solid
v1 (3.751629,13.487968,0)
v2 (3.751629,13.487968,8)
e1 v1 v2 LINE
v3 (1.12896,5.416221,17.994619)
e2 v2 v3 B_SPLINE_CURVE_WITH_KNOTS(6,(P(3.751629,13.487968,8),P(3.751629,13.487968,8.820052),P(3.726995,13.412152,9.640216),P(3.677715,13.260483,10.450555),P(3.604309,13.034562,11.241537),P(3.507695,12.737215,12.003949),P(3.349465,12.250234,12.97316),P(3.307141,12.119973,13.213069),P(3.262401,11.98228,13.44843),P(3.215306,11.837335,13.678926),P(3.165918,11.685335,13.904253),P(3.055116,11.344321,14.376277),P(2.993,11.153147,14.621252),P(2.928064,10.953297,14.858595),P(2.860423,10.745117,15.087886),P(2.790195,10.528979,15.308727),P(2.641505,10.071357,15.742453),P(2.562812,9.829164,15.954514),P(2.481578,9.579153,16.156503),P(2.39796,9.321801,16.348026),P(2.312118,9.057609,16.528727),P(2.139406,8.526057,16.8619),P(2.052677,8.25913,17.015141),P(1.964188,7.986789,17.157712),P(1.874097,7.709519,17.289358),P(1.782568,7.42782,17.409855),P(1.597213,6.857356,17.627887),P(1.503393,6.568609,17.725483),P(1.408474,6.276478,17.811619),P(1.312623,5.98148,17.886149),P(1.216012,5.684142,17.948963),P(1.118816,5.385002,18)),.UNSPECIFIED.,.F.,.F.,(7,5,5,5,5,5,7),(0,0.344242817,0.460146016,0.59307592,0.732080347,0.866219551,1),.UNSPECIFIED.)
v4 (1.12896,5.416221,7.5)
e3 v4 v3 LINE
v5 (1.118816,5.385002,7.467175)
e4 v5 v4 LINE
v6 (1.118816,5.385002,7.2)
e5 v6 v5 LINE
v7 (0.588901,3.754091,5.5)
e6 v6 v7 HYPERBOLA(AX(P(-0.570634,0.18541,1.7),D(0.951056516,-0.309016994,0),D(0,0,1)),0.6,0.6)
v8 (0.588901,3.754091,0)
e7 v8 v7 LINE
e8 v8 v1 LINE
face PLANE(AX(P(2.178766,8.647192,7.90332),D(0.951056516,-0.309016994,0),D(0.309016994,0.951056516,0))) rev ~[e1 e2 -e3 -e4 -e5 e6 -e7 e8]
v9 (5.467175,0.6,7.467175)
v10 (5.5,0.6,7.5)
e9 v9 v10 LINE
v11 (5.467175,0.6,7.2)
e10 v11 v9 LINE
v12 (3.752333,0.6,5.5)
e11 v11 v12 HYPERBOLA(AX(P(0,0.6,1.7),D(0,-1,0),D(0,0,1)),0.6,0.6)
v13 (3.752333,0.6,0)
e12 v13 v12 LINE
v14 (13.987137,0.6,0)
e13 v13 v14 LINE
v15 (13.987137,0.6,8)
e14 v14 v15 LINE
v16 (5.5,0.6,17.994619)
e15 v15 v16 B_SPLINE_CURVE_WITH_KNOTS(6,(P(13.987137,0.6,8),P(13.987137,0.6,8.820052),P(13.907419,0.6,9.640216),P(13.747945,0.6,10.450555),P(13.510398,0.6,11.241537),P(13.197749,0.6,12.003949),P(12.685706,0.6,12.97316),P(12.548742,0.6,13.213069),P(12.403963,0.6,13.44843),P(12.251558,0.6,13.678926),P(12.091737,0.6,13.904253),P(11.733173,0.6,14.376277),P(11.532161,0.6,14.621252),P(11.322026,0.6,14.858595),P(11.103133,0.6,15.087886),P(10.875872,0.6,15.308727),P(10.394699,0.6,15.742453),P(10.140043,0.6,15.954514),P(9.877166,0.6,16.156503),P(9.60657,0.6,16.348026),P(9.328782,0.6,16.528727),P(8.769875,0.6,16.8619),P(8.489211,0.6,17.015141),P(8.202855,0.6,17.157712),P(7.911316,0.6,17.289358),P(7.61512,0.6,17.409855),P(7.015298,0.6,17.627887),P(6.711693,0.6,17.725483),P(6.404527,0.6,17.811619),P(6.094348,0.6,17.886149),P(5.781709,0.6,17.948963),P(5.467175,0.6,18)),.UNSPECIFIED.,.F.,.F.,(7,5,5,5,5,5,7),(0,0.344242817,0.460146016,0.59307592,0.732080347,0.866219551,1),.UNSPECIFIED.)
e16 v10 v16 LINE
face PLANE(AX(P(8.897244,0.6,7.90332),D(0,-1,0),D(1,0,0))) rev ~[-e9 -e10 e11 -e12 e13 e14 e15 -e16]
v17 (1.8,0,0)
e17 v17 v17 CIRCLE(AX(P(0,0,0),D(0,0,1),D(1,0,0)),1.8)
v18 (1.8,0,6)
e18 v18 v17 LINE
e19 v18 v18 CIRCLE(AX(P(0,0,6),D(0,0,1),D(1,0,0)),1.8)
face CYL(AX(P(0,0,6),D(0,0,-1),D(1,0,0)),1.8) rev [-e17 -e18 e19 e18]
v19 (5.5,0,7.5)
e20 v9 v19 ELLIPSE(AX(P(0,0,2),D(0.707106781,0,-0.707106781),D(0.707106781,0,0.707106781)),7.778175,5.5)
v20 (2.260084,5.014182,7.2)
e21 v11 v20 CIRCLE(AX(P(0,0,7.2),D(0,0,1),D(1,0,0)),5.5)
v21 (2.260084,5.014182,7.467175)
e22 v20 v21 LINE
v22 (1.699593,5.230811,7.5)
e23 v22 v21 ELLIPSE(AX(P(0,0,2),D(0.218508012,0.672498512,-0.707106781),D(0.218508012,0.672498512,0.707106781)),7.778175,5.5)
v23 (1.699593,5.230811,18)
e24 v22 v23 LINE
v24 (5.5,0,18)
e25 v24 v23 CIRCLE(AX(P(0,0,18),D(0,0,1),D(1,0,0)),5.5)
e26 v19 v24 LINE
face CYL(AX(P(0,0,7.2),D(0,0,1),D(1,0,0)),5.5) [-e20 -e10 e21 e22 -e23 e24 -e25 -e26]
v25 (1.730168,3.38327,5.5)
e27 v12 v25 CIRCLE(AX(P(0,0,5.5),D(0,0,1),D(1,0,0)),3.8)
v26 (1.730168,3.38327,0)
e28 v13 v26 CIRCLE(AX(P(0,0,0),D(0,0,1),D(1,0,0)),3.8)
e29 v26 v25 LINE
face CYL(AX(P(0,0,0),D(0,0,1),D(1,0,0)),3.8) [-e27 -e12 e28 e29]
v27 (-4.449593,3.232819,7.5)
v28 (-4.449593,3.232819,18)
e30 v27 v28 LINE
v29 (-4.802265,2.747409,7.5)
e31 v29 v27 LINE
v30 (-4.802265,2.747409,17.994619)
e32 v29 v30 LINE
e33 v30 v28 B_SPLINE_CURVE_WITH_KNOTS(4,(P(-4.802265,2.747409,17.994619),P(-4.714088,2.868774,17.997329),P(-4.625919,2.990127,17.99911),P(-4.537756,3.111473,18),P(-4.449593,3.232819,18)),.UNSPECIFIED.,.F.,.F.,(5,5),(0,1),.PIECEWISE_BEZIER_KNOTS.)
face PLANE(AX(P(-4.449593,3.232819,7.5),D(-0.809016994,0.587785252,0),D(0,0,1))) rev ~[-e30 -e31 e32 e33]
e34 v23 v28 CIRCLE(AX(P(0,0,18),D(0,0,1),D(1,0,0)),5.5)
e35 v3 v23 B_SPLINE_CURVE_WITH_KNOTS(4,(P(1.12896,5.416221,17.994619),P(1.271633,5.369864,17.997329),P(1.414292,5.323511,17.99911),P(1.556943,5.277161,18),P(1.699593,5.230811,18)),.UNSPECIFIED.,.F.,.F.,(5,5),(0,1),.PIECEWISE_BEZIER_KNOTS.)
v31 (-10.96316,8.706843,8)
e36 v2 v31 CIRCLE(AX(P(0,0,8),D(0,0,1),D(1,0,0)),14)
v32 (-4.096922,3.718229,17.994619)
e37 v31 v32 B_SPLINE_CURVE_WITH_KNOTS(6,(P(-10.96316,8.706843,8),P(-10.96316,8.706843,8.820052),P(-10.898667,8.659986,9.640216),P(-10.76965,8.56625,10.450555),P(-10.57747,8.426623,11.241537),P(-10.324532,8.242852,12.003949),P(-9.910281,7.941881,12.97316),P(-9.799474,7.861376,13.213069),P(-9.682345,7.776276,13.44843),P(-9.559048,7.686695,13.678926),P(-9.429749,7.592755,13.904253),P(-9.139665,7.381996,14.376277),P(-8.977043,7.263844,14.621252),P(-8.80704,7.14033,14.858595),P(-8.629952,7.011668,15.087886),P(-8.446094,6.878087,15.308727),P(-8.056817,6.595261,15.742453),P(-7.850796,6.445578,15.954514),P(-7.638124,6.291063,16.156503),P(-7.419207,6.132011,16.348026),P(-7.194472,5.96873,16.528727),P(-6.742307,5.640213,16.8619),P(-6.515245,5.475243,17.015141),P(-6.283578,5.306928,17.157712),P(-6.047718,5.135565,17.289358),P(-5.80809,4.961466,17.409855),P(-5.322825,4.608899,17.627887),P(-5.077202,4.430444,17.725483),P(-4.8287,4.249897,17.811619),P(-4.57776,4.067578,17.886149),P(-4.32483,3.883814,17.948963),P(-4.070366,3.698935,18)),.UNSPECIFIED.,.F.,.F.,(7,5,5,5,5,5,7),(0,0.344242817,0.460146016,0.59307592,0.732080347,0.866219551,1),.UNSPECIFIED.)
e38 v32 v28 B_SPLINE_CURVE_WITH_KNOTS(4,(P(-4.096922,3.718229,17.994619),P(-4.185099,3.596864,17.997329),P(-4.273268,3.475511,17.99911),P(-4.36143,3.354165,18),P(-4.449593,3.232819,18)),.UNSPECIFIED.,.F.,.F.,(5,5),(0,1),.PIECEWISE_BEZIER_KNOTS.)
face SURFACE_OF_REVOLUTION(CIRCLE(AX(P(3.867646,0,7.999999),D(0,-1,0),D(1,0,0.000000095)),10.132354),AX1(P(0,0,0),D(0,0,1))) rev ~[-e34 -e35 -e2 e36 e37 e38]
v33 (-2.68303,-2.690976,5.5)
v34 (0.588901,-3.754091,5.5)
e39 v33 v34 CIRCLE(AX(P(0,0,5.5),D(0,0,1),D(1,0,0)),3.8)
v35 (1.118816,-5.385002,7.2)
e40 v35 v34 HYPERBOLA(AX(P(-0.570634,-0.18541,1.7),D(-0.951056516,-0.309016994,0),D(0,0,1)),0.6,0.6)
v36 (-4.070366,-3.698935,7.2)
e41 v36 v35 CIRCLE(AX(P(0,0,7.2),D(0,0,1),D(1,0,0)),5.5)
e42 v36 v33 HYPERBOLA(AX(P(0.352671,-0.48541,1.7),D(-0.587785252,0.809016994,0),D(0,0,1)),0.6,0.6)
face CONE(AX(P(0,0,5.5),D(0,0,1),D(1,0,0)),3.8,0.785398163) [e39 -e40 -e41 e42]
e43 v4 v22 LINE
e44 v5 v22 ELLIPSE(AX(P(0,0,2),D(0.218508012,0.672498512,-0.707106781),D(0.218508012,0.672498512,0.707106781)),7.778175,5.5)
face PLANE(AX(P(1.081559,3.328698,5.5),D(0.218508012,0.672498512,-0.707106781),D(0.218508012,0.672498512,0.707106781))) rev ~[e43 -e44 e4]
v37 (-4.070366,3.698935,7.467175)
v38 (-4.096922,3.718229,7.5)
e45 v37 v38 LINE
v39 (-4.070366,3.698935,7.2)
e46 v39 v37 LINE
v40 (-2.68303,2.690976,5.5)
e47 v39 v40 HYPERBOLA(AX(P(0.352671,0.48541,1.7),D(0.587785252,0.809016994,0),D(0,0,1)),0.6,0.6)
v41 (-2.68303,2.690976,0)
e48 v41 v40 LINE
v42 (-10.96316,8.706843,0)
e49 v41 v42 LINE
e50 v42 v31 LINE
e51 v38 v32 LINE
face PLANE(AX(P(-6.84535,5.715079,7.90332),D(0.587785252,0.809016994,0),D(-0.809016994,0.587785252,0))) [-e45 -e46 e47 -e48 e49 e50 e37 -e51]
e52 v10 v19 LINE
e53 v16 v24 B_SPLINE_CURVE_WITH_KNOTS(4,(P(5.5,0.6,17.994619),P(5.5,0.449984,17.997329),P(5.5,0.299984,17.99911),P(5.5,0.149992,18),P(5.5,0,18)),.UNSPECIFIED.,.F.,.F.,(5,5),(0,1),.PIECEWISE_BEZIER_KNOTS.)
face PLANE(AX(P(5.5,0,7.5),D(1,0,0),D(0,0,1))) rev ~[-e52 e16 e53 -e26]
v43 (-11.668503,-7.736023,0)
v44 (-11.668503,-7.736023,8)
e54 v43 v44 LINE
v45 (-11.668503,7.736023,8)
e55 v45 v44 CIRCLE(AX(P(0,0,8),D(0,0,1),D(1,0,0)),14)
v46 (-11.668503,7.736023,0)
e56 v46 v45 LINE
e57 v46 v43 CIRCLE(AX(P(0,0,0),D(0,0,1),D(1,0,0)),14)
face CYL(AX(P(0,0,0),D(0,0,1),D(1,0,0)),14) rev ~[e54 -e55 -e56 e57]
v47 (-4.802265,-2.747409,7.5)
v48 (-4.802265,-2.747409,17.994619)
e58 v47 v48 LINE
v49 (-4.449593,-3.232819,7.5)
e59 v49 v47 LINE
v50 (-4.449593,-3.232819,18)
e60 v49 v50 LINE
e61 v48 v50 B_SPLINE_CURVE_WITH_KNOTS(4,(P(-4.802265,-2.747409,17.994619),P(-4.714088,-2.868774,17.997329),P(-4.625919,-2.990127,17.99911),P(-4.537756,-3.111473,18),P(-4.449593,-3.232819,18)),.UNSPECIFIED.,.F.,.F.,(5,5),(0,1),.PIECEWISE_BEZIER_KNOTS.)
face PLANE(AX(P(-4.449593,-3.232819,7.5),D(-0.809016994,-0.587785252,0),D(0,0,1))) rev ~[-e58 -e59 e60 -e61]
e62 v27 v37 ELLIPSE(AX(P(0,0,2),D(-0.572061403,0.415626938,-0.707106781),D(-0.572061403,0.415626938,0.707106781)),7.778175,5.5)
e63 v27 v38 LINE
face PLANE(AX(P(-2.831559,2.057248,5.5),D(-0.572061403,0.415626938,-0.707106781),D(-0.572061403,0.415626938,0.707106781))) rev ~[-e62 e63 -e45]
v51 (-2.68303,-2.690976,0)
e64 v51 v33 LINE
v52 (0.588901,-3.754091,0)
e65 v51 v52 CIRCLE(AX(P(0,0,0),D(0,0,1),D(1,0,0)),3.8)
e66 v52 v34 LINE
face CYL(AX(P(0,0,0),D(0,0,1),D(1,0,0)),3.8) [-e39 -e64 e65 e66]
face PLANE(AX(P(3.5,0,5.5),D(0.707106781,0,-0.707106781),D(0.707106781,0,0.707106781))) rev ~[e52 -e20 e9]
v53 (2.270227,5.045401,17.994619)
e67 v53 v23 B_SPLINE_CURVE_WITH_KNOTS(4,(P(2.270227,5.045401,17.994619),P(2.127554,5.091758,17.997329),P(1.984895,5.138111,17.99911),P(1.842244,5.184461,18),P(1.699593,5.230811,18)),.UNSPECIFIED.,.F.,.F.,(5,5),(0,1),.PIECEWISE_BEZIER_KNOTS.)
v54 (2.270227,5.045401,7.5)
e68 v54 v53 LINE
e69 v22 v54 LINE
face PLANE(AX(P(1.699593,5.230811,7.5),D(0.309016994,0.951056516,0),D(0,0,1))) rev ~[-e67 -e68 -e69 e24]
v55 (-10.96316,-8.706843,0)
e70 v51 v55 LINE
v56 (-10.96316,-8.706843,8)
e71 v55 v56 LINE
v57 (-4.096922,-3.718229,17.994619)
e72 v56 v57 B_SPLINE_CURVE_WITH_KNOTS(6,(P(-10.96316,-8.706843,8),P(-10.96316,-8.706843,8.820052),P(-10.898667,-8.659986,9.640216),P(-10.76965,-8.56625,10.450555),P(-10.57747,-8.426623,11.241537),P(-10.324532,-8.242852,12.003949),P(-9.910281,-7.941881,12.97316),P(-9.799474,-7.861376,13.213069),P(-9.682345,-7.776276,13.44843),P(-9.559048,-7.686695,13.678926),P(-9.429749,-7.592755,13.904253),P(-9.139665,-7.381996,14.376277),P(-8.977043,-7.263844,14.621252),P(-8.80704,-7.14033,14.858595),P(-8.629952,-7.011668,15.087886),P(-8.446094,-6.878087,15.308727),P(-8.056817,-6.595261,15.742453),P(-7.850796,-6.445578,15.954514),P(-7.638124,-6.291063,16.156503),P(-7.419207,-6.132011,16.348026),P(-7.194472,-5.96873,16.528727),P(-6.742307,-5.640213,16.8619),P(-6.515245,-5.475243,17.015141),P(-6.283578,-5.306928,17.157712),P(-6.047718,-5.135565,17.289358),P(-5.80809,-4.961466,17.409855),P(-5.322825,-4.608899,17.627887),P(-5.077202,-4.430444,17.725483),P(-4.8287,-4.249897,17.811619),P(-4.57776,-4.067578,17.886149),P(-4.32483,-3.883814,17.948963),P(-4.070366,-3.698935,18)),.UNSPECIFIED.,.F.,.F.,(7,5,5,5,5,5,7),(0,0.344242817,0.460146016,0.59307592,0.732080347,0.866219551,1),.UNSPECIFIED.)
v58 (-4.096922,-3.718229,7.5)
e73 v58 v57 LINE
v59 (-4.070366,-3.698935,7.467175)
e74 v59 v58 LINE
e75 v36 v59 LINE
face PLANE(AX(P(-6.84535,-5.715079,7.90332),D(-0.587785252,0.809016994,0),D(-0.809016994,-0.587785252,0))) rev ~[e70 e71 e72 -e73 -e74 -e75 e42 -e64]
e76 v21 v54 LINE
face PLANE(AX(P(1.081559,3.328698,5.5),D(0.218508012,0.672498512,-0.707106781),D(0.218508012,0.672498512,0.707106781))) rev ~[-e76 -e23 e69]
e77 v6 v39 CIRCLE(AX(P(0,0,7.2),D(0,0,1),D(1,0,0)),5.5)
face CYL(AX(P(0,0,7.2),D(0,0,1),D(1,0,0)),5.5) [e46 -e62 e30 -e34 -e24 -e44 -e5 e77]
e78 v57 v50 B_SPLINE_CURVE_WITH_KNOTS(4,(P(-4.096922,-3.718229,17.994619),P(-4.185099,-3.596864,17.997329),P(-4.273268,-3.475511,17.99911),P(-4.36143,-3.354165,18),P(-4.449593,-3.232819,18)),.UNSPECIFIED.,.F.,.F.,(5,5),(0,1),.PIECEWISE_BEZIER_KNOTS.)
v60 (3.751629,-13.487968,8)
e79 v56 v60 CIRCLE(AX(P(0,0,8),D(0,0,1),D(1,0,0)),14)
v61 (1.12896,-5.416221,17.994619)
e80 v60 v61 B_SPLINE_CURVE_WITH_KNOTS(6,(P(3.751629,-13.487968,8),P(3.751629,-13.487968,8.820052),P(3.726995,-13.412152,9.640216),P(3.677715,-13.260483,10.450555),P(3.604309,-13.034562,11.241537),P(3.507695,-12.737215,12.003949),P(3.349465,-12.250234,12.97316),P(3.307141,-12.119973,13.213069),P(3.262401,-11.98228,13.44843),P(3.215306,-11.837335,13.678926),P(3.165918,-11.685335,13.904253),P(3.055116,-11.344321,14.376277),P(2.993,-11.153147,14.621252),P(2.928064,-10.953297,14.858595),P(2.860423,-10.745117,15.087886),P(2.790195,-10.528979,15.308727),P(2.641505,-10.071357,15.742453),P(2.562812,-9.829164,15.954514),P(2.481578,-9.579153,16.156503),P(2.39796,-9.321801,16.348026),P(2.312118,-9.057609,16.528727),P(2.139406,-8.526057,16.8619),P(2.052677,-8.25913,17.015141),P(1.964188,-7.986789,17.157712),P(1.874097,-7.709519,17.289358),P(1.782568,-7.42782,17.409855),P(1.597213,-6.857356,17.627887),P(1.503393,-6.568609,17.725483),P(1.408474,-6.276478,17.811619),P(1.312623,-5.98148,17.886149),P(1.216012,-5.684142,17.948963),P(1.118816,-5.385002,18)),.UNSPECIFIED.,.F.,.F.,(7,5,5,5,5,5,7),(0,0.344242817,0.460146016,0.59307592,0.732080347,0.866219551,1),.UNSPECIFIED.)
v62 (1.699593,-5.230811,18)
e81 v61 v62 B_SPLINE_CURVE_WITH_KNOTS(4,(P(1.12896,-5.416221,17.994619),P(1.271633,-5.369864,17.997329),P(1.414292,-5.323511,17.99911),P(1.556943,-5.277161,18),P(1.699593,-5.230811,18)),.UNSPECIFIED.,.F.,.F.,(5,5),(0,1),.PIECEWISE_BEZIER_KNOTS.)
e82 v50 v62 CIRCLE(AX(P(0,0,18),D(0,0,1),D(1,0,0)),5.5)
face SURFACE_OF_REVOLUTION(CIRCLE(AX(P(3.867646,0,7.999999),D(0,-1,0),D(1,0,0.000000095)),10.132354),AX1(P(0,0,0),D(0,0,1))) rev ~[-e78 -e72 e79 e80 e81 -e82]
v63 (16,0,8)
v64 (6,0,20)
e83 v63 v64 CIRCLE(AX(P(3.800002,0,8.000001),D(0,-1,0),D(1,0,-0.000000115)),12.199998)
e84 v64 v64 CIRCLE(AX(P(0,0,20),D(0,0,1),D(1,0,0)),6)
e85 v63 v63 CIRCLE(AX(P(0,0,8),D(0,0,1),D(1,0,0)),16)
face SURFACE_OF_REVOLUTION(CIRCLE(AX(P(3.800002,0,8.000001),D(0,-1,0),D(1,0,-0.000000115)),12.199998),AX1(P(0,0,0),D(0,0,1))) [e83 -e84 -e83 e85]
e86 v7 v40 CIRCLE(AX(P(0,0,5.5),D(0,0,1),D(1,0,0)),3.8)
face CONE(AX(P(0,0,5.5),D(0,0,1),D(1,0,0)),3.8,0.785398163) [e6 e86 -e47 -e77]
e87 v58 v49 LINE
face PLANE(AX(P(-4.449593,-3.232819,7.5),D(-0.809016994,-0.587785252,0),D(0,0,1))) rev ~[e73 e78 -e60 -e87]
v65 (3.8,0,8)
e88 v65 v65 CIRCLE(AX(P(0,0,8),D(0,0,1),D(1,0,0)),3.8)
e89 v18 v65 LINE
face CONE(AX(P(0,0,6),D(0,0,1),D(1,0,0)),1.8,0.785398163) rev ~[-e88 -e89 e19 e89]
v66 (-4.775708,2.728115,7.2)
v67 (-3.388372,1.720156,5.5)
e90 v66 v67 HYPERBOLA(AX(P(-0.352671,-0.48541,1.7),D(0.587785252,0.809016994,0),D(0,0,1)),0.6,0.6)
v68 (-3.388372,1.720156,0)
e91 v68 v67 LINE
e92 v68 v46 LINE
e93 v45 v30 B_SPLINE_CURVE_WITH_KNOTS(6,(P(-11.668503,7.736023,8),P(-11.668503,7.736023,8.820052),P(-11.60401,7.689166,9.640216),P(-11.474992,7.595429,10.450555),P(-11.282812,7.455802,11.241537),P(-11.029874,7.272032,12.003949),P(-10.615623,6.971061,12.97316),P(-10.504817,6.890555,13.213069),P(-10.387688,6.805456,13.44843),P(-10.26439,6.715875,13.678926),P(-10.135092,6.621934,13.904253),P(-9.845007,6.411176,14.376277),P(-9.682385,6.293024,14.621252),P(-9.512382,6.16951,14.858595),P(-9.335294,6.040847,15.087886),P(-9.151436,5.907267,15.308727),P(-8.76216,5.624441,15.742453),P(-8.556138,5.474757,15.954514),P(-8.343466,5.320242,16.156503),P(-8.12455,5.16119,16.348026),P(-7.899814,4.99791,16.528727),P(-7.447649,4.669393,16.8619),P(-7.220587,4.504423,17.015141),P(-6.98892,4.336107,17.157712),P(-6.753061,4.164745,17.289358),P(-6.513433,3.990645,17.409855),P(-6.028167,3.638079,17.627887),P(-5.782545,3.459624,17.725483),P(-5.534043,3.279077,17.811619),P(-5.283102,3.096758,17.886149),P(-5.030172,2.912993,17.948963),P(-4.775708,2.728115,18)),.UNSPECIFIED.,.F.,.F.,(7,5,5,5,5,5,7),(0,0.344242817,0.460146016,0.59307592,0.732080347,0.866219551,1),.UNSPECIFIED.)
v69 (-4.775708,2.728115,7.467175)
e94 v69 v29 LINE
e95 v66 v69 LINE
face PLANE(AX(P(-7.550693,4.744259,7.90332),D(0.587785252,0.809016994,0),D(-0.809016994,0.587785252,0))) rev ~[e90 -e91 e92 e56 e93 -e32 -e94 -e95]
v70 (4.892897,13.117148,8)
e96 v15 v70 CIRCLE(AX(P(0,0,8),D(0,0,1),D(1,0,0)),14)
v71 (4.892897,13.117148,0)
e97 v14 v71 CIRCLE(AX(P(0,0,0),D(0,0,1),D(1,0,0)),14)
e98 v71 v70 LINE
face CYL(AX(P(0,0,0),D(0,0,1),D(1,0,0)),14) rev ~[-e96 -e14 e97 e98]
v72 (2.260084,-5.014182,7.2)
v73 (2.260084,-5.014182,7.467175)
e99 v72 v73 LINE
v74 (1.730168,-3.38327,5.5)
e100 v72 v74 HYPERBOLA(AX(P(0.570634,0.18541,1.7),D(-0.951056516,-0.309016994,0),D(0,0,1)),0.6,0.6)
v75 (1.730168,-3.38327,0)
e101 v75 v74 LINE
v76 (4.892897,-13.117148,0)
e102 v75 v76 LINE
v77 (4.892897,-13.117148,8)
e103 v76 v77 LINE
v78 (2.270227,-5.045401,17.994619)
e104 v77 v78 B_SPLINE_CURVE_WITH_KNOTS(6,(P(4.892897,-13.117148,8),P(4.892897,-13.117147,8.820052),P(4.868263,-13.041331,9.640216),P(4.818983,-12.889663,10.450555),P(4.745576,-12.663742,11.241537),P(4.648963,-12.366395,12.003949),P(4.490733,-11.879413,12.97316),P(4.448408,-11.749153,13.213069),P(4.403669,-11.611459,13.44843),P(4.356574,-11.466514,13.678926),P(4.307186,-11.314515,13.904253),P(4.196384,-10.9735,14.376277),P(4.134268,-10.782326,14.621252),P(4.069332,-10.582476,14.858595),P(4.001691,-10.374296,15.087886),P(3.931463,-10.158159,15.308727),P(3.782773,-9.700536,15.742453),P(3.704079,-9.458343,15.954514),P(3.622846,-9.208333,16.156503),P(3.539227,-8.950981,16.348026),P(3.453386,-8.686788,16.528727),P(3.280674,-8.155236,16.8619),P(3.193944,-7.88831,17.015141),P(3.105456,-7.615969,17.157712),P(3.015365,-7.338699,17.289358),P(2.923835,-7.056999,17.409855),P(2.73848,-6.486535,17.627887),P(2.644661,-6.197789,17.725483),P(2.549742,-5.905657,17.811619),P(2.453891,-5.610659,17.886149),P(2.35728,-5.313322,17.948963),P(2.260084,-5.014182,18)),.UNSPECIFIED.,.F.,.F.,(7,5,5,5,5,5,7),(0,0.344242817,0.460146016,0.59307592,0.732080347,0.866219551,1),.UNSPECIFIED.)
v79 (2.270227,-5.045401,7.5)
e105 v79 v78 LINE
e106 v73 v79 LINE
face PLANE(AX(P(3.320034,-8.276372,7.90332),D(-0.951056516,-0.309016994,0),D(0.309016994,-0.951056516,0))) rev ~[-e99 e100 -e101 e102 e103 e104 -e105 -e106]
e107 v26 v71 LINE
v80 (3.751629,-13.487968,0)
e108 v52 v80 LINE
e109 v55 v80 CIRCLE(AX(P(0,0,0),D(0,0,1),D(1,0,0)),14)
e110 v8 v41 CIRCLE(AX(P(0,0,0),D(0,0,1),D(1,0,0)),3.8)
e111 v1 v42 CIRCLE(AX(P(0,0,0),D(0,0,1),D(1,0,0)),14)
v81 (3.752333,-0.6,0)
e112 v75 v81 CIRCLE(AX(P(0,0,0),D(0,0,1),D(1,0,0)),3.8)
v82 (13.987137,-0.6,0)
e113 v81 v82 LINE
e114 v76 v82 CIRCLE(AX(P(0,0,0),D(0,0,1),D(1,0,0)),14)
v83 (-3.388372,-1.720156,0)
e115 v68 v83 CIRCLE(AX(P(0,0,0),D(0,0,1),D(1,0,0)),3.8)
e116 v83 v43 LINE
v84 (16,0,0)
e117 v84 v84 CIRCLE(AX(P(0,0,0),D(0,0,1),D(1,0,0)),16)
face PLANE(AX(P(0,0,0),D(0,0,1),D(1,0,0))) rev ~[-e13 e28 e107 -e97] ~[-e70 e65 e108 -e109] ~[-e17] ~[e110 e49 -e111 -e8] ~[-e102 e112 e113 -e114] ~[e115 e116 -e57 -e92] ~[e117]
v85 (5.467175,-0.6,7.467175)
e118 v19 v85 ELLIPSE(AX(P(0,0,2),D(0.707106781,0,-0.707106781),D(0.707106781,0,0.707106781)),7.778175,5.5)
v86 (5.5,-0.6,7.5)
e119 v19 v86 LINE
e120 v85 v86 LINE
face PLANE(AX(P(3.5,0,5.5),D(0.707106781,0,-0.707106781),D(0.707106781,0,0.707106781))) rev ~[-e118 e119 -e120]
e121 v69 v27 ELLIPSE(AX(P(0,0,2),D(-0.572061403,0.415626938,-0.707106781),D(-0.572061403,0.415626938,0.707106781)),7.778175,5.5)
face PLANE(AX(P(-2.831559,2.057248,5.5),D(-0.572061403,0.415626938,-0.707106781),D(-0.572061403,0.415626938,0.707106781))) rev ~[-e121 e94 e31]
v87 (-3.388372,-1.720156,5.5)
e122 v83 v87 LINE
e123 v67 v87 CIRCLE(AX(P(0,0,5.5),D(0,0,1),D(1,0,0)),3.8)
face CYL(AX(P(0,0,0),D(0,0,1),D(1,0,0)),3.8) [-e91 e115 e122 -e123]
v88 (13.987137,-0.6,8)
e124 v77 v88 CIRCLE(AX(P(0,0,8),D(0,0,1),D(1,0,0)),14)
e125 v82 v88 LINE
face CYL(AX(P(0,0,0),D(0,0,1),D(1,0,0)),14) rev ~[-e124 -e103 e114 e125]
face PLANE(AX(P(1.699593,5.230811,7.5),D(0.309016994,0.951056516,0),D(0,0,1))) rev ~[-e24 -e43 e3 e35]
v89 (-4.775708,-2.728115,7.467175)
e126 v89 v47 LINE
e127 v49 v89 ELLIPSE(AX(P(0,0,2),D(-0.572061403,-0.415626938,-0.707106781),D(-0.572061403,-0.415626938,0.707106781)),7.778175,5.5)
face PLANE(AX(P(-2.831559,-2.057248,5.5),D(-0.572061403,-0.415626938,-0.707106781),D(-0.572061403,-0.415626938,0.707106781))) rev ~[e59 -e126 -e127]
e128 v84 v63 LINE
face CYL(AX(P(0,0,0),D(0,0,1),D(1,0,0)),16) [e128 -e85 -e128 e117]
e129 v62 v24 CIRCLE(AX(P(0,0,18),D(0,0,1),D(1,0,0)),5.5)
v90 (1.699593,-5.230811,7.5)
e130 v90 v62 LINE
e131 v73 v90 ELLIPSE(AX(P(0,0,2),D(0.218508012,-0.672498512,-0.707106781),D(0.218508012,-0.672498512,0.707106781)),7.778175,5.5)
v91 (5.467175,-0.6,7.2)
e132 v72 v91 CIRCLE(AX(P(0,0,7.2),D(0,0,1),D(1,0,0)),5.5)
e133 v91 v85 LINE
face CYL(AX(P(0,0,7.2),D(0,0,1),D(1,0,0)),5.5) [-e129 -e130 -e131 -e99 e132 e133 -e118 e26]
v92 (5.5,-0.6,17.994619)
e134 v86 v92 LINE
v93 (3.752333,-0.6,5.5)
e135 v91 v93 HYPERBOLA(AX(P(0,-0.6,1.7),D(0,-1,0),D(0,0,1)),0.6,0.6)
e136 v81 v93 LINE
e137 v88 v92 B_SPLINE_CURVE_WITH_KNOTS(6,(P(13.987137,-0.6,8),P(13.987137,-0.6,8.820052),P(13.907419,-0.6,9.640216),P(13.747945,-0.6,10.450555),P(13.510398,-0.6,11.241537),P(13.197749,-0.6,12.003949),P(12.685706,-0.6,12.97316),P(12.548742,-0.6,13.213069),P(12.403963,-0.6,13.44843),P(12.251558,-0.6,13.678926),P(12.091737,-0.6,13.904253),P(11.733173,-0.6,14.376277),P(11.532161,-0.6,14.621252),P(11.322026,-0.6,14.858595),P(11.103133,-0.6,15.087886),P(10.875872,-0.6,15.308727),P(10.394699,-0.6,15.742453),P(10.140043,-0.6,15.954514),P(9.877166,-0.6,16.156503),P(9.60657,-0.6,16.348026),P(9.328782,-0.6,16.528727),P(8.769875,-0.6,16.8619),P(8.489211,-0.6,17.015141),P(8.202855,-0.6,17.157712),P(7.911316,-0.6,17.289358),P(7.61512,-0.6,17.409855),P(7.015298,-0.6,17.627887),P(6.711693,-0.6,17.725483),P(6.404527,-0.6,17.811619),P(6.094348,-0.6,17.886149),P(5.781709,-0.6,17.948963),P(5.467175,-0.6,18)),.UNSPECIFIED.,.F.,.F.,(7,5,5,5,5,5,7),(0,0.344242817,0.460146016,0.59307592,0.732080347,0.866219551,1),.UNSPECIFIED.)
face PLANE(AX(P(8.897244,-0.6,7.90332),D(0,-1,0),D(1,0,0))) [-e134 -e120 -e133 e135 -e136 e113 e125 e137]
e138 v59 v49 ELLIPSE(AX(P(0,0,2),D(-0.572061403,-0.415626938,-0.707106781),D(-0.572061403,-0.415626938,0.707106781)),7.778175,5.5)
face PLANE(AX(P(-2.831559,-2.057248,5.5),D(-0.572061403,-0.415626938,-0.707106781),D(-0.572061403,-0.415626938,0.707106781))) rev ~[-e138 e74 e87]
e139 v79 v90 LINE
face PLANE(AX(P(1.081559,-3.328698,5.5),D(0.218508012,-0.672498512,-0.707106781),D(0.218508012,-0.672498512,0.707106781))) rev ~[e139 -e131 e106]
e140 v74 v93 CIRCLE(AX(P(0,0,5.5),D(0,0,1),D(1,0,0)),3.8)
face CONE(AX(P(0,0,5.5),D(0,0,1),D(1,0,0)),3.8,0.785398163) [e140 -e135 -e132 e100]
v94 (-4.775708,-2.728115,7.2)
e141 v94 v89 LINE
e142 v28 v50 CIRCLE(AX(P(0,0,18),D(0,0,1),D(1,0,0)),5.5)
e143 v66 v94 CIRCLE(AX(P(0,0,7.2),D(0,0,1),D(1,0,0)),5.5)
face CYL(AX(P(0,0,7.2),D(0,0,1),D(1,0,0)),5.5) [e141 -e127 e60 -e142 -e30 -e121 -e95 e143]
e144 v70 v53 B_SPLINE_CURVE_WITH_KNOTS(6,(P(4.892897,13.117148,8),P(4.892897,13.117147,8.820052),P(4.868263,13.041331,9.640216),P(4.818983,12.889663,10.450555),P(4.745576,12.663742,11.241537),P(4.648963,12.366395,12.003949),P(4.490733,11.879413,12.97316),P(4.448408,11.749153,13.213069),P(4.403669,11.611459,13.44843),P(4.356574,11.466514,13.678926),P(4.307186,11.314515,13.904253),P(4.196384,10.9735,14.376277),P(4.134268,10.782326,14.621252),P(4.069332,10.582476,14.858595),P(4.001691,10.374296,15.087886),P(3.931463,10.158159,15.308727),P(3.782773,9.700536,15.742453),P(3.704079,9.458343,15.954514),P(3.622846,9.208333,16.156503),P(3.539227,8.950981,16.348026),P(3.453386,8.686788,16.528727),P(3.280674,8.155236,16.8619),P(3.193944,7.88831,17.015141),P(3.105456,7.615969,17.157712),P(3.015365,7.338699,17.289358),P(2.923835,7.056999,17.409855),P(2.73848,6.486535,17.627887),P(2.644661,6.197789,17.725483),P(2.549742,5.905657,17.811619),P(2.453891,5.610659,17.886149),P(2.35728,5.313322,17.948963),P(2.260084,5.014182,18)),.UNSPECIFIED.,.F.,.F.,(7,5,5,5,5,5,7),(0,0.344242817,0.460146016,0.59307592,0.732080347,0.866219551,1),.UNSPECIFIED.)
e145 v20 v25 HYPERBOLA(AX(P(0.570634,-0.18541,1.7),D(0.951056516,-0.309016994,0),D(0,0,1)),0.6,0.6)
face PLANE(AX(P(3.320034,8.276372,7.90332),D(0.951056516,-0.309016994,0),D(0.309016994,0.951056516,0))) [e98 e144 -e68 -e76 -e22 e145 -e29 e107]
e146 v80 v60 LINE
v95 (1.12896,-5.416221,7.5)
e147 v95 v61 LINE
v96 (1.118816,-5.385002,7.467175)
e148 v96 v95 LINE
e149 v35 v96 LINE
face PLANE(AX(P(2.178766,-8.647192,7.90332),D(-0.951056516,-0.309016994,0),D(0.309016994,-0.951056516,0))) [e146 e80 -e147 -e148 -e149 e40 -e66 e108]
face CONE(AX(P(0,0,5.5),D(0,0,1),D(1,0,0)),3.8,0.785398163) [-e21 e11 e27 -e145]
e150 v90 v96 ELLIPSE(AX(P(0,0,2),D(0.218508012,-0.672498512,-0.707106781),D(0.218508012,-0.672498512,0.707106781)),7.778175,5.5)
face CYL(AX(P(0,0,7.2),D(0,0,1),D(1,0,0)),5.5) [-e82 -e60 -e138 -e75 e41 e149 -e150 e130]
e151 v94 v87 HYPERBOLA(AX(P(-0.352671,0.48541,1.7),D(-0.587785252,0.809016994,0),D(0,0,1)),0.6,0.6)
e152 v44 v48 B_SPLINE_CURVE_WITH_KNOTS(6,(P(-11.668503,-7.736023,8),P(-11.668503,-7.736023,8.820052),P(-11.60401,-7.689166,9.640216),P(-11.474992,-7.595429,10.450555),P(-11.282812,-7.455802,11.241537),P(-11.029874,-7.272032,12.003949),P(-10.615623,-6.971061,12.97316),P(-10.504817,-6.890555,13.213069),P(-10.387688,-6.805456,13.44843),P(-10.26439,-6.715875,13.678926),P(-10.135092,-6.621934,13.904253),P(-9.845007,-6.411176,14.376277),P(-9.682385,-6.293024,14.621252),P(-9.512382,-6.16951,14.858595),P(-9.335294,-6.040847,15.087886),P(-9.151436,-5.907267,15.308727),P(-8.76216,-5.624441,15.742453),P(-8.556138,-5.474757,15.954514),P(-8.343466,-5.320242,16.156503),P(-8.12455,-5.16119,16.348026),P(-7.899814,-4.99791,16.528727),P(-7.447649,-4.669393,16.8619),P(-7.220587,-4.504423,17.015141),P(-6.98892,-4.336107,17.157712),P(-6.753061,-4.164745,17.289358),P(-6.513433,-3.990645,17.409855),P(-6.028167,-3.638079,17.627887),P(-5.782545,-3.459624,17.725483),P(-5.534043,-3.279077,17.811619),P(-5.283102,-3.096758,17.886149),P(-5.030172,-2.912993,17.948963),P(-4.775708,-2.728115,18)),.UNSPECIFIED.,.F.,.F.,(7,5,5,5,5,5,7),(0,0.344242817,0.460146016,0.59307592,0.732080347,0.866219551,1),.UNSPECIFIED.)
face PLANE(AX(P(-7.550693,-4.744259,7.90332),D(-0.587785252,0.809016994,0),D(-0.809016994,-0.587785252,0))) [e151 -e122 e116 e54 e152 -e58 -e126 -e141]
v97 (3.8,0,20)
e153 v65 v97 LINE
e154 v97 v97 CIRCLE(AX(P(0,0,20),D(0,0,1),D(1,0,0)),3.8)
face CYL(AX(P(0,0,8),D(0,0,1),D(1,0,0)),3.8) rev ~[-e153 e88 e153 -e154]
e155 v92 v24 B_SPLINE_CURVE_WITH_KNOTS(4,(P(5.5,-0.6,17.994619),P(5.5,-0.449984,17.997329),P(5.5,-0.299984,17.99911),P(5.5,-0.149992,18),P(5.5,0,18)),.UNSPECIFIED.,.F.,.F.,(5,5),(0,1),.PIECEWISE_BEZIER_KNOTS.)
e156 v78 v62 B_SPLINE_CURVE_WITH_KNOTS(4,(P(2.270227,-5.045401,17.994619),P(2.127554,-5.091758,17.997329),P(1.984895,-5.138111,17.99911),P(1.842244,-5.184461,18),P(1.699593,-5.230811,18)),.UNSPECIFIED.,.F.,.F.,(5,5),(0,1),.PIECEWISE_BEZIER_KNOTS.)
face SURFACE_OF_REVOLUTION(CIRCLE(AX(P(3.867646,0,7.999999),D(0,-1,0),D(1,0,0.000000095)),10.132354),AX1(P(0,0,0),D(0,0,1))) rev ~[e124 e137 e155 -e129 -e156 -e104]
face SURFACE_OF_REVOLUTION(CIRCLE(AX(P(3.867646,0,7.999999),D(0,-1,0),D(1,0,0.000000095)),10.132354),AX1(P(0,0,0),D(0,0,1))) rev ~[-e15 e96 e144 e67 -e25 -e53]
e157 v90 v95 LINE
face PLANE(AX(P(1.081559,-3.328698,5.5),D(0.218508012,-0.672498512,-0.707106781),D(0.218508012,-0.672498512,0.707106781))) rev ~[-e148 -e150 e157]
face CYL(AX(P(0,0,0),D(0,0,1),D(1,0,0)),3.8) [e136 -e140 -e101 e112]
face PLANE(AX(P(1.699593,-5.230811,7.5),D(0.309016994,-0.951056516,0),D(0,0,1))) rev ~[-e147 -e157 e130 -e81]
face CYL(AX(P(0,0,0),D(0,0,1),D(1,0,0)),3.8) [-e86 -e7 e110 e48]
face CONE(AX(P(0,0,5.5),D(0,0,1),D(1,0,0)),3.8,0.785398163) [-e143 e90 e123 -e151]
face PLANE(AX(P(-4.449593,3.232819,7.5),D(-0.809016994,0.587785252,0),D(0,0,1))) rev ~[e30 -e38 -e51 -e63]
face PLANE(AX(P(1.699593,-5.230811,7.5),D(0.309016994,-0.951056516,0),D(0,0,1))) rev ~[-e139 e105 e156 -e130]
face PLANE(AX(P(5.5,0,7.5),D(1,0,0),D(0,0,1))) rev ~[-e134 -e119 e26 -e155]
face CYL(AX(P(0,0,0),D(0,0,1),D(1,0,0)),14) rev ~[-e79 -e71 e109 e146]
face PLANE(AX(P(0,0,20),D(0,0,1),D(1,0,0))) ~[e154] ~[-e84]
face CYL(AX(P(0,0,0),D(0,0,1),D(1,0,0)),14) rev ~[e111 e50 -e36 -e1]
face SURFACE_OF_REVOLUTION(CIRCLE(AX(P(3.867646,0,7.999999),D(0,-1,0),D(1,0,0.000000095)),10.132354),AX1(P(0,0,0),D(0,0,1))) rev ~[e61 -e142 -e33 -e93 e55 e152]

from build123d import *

# Parameters (mm, degrees)
PAD_DEPTH          = 0.6
POLARPATTERN_COUNT = 5


with BuildPart() as part:
    # Sketch → Revolution (revolve)
    with BuildSketch(Plane.XZ):
        with BuildLine():
            Line((16, 0), (16, 8))
            ThreePointArc((16, 8), (13.1723, 15.81025), (6, 20))
            Line((3.8, 20), (6, 20))
            Line((3.8, 8), (3.8, 20))
            Line((1.8, 6), (3.8, 8))
            Line((1.8, 6), (1.8, 0))
            Line((1.8, 0), (3.8, 0))
            Line((3.8, 0), (3.8, 5.5))
            Line((3.8, 5.5), (5.5, 7.2))
            Line((5.5, 7.2), (5.5, 18))
            ThreePointArc((14, 8), (11.587885, 14.562202), (5.5, 18))
            Line((14, 0), (14, 8))
            Line((16, 0), (14, 0))
        make_face()
    revolve(axis=Axis((0, 0, 0), (0, 0, 1)))

    # Sketch001 → Pad (new body, symmetric)
    with BuildSketch(Plane.XZ):
        with BuildLine():
            Line((14.5, 0), (14.5, 8))
            ThreePointArc((14.5, 8), (11.942101, 14.914658), (5.5, 18.5))
            Line((5.5, 7.5), (5.5, 18.5))
            Line((3.5, 5.5), (5.5, 7.5))
            Line((3.5, 0), (3.5, 5.5))
            Line((3.5, 0), (14.5, 0))
        make_face()
    pad = extrude(amount=PAD_DEPTH, both=True)

    # PolarPattern: Pad ×5 about axis
    polarpattern_axis = Axis((0, 0, 0), (0, 0, 1))
    for i in range(1, POLARPATTERN_COUNT):
        add(pad.rotate(polarpattern_axis, i * 360 / POLARPATTERN_COUNT))


solid = part.part
